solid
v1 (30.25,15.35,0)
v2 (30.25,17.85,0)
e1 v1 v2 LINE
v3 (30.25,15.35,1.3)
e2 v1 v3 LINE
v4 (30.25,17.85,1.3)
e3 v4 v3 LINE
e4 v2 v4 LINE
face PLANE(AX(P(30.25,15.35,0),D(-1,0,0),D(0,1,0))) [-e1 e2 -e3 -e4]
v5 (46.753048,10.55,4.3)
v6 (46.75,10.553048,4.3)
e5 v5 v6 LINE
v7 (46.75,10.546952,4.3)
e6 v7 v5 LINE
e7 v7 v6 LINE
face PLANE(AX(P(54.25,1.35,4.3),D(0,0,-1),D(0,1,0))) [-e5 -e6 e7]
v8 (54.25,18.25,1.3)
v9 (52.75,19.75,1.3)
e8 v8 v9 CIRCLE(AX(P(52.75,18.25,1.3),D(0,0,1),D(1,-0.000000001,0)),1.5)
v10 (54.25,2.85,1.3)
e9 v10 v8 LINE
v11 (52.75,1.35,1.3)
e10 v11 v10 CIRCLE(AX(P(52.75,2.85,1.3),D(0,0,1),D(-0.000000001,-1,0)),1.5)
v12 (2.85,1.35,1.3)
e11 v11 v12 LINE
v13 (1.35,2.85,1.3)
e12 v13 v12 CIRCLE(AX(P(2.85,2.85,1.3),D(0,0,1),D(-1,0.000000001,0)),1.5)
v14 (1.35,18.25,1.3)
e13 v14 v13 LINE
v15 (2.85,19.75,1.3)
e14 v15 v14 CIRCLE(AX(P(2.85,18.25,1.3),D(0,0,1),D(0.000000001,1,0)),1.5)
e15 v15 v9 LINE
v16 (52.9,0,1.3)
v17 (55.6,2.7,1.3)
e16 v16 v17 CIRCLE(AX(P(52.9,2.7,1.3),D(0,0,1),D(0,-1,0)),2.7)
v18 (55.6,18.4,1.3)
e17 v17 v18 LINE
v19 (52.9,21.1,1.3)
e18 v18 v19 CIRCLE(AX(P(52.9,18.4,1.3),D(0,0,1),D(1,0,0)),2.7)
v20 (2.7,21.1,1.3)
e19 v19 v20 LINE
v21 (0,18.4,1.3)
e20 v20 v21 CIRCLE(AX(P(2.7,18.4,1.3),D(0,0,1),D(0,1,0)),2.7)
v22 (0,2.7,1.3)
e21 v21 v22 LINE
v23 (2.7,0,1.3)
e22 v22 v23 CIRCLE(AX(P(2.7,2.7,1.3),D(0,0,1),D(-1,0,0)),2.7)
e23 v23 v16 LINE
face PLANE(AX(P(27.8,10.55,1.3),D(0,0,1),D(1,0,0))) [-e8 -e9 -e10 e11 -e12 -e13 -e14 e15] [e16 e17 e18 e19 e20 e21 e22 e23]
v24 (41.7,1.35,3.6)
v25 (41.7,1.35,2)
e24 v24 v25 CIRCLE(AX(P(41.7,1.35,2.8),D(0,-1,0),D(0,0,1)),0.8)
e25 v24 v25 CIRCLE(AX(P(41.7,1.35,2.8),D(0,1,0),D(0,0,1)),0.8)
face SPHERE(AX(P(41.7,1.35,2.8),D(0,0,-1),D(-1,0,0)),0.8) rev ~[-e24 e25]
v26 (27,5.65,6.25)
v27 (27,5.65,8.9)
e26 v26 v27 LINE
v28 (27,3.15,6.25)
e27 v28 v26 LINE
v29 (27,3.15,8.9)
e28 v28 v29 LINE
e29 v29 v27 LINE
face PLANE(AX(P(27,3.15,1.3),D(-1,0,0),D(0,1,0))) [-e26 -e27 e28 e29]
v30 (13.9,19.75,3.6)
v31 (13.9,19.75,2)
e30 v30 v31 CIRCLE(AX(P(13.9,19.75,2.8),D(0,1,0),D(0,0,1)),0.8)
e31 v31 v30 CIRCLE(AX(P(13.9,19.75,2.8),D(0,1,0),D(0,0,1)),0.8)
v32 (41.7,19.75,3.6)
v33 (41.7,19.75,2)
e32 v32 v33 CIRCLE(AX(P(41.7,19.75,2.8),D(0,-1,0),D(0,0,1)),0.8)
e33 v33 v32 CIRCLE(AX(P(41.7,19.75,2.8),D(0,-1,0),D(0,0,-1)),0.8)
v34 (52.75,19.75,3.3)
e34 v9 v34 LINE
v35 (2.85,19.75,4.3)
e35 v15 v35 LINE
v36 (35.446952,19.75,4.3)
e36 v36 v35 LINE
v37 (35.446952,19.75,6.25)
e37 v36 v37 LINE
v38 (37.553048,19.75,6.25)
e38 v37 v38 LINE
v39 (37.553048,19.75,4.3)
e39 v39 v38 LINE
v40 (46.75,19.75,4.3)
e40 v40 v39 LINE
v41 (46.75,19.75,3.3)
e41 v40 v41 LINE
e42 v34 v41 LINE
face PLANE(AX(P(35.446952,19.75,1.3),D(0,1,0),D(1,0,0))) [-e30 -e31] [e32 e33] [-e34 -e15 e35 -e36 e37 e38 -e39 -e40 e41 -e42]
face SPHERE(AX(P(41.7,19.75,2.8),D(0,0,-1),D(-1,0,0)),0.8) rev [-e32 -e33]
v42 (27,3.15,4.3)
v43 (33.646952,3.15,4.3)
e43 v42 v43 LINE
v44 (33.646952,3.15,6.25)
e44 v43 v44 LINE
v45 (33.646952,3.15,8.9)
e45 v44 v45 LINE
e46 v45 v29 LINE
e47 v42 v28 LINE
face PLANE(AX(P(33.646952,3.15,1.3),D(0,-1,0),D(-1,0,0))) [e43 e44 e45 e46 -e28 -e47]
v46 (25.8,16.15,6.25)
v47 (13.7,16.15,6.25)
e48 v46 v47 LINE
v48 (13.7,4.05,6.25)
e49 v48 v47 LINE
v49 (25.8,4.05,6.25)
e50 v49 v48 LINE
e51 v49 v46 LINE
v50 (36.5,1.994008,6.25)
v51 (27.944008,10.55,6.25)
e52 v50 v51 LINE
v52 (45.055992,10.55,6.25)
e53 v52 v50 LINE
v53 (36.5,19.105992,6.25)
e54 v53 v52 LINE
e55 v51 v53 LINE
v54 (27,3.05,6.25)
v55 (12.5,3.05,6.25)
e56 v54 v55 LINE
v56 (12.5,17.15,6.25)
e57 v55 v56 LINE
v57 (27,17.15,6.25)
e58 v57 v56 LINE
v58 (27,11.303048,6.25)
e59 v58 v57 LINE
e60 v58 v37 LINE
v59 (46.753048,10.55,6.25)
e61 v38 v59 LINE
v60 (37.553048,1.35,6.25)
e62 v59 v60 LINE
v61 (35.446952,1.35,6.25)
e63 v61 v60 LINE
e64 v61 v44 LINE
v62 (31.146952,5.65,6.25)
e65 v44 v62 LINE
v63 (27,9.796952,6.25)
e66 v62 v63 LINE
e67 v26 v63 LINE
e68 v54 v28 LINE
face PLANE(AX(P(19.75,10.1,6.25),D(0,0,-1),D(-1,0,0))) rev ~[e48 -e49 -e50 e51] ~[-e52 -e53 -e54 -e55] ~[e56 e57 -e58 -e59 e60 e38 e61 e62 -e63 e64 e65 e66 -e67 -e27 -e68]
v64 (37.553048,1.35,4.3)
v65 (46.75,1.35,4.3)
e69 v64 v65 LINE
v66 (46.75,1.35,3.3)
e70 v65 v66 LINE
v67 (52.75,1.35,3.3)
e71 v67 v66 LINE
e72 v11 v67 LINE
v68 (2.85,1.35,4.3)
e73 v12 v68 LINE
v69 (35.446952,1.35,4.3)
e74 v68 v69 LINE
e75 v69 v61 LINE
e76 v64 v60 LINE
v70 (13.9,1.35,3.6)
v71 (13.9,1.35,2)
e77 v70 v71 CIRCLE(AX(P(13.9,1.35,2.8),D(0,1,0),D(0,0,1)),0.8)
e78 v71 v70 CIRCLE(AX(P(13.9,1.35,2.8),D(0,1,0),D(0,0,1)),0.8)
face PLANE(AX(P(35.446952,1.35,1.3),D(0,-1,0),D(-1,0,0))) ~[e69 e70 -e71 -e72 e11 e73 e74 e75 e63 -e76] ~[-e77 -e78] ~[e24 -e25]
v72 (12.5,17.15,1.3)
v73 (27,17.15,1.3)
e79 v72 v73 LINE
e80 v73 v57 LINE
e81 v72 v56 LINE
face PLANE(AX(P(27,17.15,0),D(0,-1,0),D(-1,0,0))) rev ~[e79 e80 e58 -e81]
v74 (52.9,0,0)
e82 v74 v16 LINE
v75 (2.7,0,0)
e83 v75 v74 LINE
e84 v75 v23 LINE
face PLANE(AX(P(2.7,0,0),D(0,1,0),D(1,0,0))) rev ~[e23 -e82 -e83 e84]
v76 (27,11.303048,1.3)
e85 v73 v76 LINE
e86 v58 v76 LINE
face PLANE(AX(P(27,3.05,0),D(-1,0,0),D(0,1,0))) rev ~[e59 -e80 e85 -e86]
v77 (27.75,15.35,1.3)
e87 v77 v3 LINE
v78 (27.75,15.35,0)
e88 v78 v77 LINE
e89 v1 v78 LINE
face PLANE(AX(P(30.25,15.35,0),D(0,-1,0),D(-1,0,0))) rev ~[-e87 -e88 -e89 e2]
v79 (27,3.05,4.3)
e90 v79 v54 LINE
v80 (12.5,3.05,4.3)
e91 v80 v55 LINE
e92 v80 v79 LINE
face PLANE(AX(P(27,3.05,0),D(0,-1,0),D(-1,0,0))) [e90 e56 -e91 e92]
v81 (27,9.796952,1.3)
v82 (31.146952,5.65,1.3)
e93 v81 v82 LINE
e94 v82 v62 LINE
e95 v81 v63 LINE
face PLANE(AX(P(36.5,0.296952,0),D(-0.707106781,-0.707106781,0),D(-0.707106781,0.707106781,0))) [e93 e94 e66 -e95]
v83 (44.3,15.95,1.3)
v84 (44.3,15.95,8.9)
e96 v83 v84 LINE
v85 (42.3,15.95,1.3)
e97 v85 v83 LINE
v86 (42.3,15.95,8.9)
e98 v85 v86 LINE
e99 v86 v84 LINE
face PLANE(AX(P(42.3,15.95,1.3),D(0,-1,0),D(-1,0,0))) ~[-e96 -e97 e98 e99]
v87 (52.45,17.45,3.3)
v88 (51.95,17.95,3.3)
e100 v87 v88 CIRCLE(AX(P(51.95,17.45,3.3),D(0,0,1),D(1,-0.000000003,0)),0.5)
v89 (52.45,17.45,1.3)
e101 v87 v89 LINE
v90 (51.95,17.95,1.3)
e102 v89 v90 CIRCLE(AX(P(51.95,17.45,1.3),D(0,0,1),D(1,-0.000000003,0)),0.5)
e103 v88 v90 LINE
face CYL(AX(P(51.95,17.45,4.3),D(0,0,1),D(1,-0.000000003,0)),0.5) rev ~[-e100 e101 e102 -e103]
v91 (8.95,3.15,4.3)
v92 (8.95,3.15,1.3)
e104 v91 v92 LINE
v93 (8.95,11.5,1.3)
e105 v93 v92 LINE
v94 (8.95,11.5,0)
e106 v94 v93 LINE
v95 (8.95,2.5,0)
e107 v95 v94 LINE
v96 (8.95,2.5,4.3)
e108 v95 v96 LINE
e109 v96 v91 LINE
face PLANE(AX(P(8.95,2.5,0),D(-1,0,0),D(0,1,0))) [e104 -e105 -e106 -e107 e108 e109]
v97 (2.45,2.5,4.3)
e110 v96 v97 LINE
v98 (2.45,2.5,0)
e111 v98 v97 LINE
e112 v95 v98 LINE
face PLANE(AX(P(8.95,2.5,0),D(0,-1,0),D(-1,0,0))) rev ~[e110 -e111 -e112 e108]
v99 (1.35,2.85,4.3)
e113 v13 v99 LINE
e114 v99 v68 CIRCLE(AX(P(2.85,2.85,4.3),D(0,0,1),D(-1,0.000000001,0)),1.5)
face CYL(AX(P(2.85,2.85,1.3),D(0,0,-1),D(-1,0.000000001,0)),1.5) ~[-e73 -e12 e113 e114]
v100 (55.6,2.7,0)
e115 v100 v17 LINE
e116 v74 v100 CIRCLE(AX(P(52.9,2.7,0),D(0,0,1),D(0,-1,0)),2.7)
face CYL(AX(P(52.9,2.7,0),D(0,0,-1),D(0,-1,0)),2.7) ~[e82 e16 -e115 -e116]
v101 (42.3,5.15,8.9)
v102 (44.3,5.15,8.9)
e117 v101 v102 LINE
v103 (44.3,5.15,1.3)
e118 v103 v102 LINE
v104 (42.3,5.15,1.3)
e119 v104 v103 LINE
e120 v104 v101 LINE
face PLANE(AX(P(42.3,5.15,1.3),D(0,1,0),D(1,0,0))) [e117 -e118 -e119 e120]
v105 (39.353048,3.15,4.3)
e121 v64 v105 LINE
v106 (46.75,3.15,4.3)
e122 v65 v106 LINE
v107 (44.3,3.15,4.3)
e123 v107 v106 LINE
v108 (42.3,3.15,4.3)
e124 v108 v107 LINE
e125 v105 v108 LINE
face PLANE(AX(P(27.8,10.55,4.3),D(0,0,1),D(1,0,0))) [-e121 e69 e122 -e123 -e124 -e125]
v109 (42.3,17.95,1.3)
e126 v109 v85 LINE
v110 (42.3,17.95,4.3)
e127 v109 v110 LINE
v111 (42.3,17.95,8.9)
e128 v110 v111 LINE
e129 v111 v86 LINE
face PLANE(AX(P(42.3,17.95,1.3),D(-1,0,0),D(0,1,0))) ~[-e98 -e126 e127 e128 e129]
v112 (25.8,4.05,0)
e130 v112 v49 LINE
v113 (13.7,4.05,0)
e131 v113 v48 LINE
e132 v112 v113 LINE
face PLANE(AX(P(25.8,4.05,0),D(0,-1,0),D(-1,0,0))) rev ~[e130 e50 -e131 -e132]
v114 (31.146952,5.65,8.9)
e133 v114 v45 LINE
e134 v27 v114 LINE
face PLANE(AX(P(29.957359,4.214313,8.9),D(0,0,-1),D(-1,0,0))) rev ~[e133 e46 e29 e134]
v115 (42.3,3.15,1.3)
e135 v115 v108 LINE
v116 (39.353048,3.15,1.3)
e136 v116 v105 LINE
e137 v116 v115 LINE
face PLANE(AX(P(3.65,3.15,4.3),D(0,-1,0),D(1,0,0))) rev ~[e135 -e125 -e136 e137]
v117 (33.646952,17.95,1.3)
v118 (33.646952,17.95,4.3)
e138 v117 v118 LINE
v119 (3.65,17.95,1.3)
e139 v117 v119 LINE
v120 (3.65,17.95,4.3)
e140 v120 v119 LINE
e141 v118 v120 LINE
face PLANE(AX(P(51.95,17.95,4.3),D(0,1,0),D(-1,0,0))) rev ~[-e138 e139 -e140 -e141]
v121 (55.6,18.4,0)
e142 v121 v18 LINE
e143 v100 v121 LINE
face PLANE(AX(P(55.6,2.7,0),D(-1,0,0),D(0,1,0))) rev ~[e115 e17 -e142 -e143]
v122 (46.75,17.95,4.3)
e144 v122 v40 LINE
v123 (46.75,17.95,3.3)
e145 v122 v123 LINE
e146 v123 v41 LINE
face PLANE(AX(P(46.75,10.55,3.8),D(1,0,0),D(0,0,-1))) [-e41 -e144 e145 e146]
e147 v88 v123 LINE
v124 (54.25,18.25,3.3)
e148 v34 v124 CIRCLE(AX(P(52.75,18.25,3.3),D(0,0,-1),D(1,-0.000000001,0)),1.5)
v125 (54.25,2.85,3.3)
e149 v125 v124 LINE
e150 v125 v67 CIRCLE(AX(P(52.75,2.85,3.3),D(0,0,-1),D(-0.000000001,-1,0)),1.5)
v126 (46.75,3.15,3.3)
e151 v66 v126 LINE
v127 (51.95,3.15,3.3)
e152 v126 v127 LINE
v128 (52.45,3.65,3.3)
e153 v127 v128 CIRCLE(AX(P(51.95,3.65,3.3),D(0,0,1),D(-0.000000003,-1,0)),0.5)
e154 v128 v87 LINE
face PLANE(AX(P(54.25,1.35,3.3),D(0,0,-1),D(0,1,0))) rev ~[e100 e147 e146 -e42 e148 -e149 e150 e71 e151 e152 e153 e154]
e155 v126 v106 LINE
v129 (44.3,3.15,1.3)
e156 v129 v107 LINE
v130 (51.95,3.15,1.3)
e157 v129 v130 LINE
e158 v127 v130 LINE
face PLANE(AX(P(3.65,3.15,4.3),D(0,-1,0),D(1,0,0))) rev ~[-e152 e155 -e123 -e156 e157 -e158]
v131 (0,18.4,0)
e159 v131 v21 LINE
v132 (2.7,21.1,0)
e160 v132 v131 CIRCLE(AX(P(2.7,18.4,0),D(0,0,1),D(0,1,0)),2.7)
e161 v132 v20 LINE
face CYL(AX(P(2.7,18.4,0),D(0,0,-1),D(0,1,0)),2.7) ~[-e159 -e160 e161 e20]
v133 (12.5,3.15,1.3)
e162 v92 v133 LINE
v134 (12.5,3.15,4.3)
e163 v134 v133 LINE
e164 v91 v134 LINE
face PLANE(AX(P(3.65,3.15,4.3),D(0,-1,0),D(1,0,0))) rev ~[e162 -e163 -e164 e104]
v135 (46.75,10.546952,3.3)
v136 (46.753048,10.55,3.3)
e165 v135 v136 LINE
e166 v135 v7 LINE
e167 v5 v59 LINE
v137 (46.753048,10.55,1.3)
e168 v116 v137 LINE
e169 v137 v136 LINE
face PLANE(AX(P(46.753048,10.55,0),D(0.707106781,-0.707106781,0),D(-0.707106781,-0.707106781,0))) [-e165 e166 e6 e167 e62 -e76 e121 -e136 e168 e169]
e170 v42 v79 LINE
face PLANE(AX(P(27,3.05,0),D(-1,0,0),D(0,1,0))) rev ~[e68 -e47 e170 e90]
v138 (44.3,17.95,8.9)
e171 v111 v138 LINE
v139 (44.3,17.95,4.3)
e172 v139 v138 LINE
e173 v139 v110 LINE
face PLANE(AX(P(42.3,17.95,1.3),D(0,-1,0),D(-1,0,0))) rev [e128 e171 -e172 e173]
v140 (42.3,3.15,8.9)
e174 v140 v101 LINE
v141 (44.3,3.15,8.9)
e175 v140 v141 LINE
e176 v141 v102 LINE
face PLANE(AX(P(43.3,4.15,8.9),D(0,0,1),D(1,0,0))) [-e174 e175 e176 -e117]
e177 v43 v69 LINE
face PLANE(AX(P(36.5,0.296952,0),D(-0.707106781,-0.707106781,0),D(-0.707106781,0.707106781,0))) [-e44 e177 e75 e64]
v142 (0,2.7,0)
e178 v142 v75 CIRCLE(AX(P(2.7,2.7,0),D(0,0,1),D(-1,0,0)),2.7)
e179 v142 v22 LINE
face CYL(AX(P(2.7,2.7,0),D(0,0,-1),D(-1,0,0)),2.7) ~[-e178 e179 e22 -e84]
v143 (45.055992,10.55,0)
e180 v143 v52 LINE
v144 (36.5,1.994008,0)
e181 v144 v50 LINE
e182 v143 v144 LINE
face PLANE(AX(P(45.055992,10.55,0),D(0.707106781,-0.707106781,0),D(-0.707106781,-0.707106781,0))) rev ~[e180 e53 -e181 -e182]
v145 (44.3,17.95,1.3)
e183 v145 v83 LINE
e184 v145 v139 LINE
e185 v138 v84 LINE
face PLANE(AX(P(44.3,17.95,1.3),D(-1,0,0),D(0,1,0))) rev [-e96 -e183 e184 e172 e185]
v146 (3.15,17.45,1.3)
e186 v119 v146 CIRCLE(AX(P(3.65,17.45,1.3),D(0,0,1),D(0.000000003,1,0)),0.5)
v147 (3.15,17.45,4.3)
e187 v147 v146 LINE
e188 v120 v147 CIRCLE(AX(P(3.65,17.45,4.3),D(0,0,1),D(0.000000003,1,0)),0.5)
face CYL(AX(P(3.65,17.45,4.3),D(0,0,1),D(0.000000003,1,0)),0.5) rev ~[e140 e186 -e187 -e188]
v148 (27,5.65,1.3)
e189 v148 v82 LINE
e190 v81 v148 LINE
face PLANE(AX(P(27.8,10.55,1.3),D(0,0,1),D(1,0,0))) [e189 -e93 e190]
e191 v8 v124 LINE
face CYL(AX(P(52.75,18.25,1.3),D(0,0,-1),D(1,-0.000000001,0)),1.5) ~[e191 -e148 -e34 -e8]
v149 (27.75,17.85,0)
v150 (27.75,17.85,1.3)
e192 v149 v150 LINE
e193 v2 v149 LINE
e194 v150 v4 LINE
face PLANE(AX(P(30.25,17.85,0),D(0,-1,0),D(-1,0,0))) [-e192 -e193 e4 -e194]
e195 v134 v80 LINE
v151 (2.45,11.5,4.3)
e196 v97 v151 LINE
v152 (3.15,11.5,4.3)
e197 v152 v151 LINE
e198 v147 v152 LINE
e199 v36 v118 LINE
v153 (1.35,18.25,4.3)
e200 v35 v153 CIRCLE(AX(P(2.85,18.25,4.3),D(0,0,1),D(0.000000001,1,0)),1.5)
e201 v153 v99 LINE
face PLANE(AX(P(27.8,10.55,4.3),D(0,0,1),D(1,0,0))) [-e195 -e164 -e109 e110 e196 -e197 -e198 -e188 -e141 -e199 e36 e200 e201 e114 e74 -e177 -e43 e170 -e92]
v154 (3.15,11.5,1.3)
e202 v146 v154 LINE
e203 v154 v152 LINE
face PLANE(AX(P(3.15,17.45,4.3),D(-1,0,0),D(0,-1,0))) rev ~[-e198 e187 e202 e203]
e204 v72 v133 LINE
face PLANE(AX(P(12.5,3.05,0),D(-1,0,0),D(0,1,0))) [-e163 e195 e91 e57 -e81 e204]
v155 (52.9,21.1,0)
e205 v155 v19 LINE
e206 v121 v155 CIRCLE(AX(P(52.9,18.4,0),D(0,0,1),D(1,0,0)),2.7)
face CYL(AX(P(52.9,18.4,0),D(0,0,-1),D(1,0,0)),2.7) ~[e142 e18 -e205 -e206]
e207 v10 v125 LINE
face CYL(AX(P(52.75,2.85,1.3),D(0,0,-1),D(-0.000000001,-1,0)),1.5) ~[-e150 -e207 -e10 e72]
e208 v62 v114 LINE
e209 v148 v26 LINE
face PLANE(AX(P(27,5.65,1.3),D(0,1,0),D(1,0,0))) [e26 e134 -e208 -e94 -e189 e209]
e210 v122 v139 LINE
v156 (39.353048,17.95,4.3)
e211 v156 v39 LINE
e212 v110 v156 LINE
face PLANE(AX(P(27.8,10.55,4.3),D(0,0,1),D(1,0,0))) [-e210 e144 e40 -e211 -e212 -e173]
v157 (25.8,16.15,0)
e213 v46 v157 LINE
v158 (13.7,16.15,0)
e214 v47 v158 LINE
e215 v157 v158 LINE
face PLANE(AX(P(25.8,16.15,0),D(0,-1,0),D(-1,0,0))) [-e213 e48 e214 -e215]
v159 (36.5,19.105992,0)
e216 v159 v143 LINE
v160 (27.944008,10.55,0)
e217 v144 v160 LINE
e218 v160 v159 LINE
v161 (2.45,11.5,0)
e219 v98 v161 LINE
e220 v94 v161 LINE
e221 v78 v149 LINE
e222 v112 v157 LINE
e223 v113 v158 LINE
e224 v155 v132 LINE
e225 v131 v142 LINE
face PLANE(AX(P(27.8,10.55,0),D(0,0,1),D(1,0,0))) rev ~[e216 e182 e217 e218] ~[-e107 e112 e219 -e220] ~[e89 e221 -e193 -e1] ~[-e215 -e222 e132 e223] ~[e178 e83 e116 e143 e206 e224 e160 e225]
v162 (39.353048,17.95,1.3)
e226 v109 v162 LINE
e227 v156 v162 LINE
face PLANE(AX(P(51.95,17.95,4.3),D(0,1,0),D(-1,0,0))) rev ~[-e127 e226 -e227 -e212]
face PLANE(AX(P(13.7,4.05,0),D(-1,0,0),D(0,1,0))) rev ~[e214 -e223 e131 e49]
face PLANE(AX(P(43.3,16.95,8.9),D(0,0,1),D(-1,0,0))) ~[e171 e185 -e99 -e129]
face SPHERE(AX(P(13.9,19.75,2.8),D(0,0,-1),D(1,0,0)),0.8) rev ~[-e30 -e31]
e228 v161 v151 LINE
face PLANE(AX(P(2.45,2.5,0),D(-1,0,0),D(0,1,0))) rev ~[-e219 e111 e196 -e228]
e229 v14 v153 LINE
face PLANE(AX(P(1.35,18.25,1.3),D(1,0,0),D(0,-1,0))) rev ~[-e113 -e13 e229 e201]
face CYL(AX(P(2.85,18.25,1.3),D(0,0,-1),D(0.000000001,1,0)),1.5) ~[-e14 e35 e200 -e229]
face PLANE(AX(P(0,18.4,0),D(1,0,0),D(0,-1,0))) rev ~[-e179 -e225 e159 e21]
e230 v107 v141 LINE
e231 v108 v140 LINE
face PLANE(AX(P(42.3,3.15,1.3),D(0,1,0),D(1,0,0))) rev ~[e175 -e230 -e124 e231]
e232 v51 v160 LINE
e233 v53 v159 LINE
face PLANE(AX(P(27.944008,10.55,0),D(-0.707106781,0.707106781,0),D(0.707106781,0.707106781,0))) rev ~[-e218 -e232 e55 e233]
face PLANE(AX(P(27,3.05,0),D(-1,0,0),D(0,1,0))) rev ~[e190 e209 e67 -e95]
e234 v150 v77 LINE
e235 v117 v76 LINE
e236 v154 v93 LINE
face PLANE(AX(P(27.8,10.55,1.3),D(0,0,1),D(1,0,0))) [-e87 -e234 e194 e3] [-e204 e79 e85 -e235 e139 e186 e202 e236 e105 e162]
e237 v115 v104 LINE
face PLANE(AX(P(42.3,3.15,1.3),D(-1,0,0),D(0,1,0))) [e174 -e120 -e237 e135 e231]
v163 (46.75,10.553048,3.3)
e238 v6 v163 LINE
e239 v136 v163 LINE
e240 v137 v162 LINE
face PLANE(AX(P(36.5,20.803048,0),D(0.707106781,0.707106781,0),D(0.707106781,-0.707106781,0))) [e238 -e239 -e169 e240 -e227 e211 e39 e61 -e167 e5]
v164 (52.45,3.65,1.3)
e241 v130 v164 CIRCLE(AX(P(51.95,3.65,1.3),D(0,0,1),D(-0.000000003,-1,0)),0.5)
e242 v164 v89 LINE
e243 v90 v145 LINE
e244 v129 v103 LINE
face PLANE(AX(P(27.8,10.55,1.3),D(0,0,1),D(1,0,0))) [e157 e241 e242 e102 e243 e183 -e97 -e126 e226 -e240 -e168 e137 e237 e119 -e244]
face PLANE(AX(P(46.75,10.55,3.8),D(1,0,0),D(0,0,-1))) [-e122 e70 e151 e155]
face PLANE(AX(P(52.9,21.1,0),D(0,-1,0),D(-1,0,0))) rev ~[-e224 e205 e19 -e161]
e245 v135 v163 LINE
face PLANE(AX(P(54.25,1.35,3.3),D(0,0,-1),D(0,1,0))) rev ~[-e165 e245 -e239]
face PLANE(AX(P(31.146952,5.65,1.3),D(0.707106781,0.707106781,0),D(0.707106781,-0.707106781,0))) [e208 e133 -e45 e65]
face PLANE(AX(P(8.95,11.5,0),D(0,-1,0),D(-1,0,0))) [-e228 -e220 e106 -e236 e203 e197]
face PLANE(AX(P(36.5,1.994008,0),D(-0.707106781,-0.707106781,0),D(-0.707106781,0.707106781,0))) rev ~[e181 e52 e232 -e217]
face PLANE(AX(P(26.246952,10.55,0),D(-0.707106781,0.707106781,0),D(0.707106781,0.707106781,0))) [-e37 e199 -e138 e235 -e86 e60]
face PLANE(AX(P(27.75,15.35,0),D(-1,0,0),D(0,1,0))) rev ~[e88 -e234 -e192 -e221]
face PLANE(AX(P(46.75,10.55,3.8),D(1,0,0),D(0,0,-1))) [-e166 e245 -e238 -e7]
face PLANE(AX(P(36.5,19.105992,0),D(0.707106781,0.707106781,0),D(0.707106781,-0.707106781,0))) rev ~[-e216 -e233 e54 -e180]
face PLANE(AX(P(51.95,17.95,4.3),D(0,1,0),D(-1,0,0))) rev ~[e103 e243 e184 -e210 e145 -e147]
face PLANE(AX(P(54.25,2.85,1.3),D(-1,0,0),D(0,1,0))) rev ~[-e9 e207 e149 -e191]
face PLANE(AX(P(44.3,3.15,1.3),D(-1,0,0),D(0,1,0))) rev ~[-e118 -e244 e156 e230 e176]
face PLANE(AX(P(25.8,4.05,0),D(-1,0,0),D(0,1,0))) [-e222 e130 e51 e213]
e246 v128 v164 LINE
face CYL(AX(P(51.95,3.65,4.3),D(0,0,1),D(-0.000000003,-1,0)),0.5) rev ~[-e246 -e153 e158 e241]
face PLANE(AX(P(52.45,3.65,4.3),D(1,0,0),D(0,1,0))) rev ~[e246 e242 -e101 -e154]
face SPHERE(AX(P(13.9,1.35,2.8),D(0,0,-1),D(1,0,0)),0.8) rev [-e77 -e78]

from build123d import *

# Parameters (mm, degrees)
BOSS_EXTRUDE1_DEPTH = 1.3
BOSS_EXTRUDE3_DEPTH = 3
CUT_EXTRUDE1_DEPTH  = 3
SKETCH11_W          = 6.5
SKETCH11_H          = 9
CUT_EXTRUDE2_DEPTH  = 4.3
SKETCH12_W          = 12.1
SKETCH12_H          = 12.1
CUT_EXTRUDE4_DEPTH  = 1.3
SKETCH17_W          = 14.5
SKETCH17_H          = 14.1
SKETCH17_W_2        = 12.1
SKETCH17_H_2        = 12.1
BOSS_EXTRUDE4_DEPTH = 6.25
CUT_EXTRUDE5_DEPTH  = 4.3
BOSS_EXTRUDE5_DEPTH = 6.25
CUT_EXTRUDE6_START  = -3
CUT_EXTRUDE6_DEPTH  = 23
SKETCH21_W          = 2.5
SKETCH21_H          = 2.5
CUT_EXTRUDE7_DEPTH  = 10
BOSS_EXTRUDE7_DEPTH = 7.6
SKETCH25_W          = 2
SKETCH25_H          = 2
BOSS_EXTRUDE8_DEPTH = 7.6
SKETCH27_W          = 1
SKETCH27_H          = 18.4
CUT_EXTRUDE8_DEPTH  = 7.5


with BuildPart() as part:
    # Sketch1 → Boss-Extrude1 (new body)
    with BuildSketch(Plane.XY):
        with BuildLine():
            Line((2.7, 0), (52.9, 0))
            ThreePointArc((52.9, 0), (54.809188309, 0.790811691), (55.6, 2.7))
            Line((55.6, 2.7), (55.6, 18.4))
            ThreePointArc((55.6, 18.4), (54.809188309, 20.309188309), (52.9, 21.1))
            Line((52.9, 21.1), (2.7, 21.1))
            ThreePointArc((2.7, 21.1), (0.790811691, 20.309188309), (0, 18.4))
            Line((0, 18.4), (0, 2.7))
            ThreePointArc((0, 2.7), (0.790811691, 0.790811691), (2.7, 0))
        make_face()
    extrude(amount=BOSS_EXTRUDE1_DEPTH)

    # Sketch4 → Boss-Extrude3 (add)
    with BuildSketch(Plane.XY.offset(1.3)):
        with BuildLine():
            Line((54.25, 2.85), (54.25, 18.25))
            ThreePointArc((54.25, 18.25), (53.810660172, 19.310660172), (52.75, 19.75))
            Line((52.75, 19.75), (2.85, 19.75))
            ThreePointArc((2.85, 19.75), (1.789339828, 19.310660172), (1.35, 18.25))
            Line((1.35, 18.25), (1.35, 2.85))
            ThreePointArc((1.35, 2.85), (1.789339828, 1.789339828), (2.85, 1.35))
            Line((2.85, 1.35), (52.75, 1.35))
            ThreePointArc((52.75, 1.35), (53.810660172, 1.789339828), (54.25, 2.85))
        make_face()
    extrude(amount=BOSS_EXTRUDE3_DEPTH)

    # Sketch5 → Cut-Extrude1 (cut)
    with BuildSketch(Plane.XY.offset(4.3)):
        with BuildLine():
            Line((51.95, 17.95), (3.65, 17.95))
            ThreePointArc((3.65, 17.95), (3.296446609, 17.803553391), (3.15, 17.45))
            Line((3.15, 17.45), (3.15, 3.65))
            ThreePointArc((3.15, 3.65), (3.296446609, 3.296446609), (3.65, 3.15))
            Line((3.65, 3.15), (51.95, 3.15))
            ThreePointArc((51.95, 3.15), (52.303553391, 3.296446609), (52.45, 3.65))
            Line((52.45, 3.65), (52.45, 17.45))
            ThreePointArc((52.45, 17.45), (52.303553391, 17.803553391), (51.95, 17.95))
        make_face()
    extrude(amount=-CUT_EXTRUDE1_DEPTH, mode=Mode.SUBTRACT)

    # Sketch10 → Cut-Revolve1 (revolve, cut)
    with BuildSketch(Plane(origin=(0, 19.75, 0), x_dir=(1, 0, 0), z_dir=(0, 1, 0))):
        with BuildLine():
            Line((41.7, -2), (41.7, -3.6))
            ThreePointArc((41.7, -3.6), (40.9, -2.8), (41.7, -2))
        make_face()
    cut_revolve1 = revolve(axis=Axis((41.7, 19.75, 2), (0, 0, 1)), mode=Mode.SUBTRACT)

    # Mirror1: Cut-Revolve1 across plane
    add(cut_revolve1.mirror(Plane(origin=(0, 10.55, 0), x_dir=(0, 0, 1), z_dir=(0, -1, 0))), mode=Mode.SUBTRACT)

    # Sketch11 → Cut-Extrude2 (cut)
    with BuildSketch(Plane(origin=(0, 0, 0), x_dir=(-1, 0, 0), z_dir=(0, 0, -1))):
        with Locations((-5.7, 7)):
            Rectangle(SKETCH11_W, SKETCH11_H)
    extrude(amount=-CUT_EXTRUDE2_DEPTH, mode=Mode.SUBTRACT)

    # Sketch12 → Cut-Extrude4 (cut)
    with BuildSketch(Plane(origin=(0, 0, 0), x_dir=(-1, 0, 0), z_dir=(0, 0, -1))):
        with Locations((-19.75, 10.1)):
            Rectangle(SKETCH12_W, SKETCH12_H)
    extrude(amount=-CUT_EXTRUDE4_DEPTH, mode=Mode.SUBTRACT)

    # Sketch17 → Boss-Extrude4 (add)
    with BuildSketch(Plane(origin=(0, 0, 0), x_dir=(-1, 0, 0), z_dir=(0, 0, -1))):
        with Locations((-19.75, 10.1)):
            Rectangle(SKETCH17_W, SKETCH17_H)
        with Locations((-19.75, 10.1)):
            Rectangle(SKETCH17_W_2, SKETCH17_H_2, mode=Mode.SUBTRACT)
    extrude(amount=-BOSS_EXTRUDE4_DEPTH)

    # Sketch13 → Cut-Extrude5 (cut)
    with BuildSketch(Plane(origin=(0, 0, 0), x_dir=(-1, 0, 0), z_dir=(0, 0, -1))):
        Polygon((-45.055992052, 10.55), (-36.5, 1.994007948), (-27.944007948, 10.55), (-36.5, 19.105992052), align=None)
    extrude(amount=-CUT_EXTRUDE5_DEPTH, mode=Mode.SUBTRACT)

    # Sketch18 → Boss-Extrude5 (add)
    with BuildSketch(Plane(origin=(0, 0, 0), x_dir=(-1, 0, 0), z_dir=(0, 0, -1))):
        Polygon((-46.753048327, 10.55), (-36.5, 0.296951673), (-26.246951673, 10.55), (-36.5, 20.803048327), align=None)
        Polygon((-36.5, 19.105992052), (-45.055992052, 10.55), (-36.5, 1.994007948), (-27.944007948, 10.55), align=None, mode=Mode.SUBTRACT)
    extrude(amount=-BOSS_EXTRUDE5_DEPTH)

    # Sketch20 → Cut-Extrude6 (cut)
    with BuildSketch(Plane.XY.offset(4.3).offset(CUT_EXTRUDE6_START)):
        Polygon((35.446951673, 19.75), (37.553048327, 19.75), (36.5, 20.803048327), align=None)
    cut_extrude6 = extrude(amount=CUT_EXTRUDE6_DEPTH, mode=Mode.SUBTRACT)

    # Mirror2: Cut-Extrude6 across plane
    add(cut_extrude6.mirror(Plane(origin=(0, 10.55, 0), x_dir=(0, 0, 1), z_dir=(0, -1, 0))), mode=Mode.SUBTRACT)

    # Sketch21 → Cut-Extrude7 (cut)
    with BuildSketch(Plane(origin=(0, 0, 0), x_dir=(-1, 0, 0), z_dir=(0, 0, -1))):
        with Locations((-29, 16.6)):
            Rectangle(SKETCH21_W, SKETCH21_H)
    extrude(amount=-CUT_EXTRUDE7_DEPTH, mode=Mode.SUBTRACT)

    # Mirror3: Cut-Revolve1 across plane
    add(cut_revolve1.mirror(Plane.ZY.offset(-27.8)), mode=Mode.SUBTRACT)

    # Mirror3 copy 1 sketch → Mirror3 copy 1 (revolve, cut)
    with BuildSketch(Plane(origin=(55.6, 1.35, 0), x_dir=(-1, 0, 0), z_dir=(0, -1, 0))):
        with BuildLine():
            Line((41.7, -2), (41.7, -3.6))
            ThreePointArc((41.7, -3.6), (40.9, -2.8), (41.7, -2))
        make_face()
    revolve(axis=Axis((13.9, 1.35, 2), (0, 0, 1)), mode=Mode.SUBTRACT)

    # Sketch24 → Boss-Extrude7 (add)
    with BuildSketch(Plane.XY.offset(1.3)):
        Polygon((33.646951673, 3.15), (27, 3.15), (27, 5.65), (31.146951673, 5.65), align=None)
    extrude(amount=BOSS_EXTRUDE7_DEPTH)

    # Sketch25 → Boss-Extrude8 (add)
    with BuildSketch(Plane.XY.offset(1.3)):
        with Locations((43.3, 4.15)):
            Rectangle(SKETCH25_W, SKETCH25_H)
    boss_extrude8 = extrude(amount=BOSS_EXTRUDE8_DEPTH)

    # Mirror4: Boss-Extrude8 across plane
    add(boss_extrude8.mirror(Plane(origin=(0, 10.55, 0), x_dir=(0, 0, 1), z_dir=(0, -1, 0))))

    # Sketch27 → Cut-Extrude8 (cut)
    with BuildSketch(Plane(origin=(54.25, 0, 0), x_dir=(0, 0, -1), z_dir=(1, 0, 0))):
        with Locations((-3.8, 10.55)):
            Rectangle(SKETCH27_W, SKETCH27_H)
    extrude(amount=-CUT_EXTRUDE8_DEPTH, mode=Mode.SUBTRACT)


solid = part.part
